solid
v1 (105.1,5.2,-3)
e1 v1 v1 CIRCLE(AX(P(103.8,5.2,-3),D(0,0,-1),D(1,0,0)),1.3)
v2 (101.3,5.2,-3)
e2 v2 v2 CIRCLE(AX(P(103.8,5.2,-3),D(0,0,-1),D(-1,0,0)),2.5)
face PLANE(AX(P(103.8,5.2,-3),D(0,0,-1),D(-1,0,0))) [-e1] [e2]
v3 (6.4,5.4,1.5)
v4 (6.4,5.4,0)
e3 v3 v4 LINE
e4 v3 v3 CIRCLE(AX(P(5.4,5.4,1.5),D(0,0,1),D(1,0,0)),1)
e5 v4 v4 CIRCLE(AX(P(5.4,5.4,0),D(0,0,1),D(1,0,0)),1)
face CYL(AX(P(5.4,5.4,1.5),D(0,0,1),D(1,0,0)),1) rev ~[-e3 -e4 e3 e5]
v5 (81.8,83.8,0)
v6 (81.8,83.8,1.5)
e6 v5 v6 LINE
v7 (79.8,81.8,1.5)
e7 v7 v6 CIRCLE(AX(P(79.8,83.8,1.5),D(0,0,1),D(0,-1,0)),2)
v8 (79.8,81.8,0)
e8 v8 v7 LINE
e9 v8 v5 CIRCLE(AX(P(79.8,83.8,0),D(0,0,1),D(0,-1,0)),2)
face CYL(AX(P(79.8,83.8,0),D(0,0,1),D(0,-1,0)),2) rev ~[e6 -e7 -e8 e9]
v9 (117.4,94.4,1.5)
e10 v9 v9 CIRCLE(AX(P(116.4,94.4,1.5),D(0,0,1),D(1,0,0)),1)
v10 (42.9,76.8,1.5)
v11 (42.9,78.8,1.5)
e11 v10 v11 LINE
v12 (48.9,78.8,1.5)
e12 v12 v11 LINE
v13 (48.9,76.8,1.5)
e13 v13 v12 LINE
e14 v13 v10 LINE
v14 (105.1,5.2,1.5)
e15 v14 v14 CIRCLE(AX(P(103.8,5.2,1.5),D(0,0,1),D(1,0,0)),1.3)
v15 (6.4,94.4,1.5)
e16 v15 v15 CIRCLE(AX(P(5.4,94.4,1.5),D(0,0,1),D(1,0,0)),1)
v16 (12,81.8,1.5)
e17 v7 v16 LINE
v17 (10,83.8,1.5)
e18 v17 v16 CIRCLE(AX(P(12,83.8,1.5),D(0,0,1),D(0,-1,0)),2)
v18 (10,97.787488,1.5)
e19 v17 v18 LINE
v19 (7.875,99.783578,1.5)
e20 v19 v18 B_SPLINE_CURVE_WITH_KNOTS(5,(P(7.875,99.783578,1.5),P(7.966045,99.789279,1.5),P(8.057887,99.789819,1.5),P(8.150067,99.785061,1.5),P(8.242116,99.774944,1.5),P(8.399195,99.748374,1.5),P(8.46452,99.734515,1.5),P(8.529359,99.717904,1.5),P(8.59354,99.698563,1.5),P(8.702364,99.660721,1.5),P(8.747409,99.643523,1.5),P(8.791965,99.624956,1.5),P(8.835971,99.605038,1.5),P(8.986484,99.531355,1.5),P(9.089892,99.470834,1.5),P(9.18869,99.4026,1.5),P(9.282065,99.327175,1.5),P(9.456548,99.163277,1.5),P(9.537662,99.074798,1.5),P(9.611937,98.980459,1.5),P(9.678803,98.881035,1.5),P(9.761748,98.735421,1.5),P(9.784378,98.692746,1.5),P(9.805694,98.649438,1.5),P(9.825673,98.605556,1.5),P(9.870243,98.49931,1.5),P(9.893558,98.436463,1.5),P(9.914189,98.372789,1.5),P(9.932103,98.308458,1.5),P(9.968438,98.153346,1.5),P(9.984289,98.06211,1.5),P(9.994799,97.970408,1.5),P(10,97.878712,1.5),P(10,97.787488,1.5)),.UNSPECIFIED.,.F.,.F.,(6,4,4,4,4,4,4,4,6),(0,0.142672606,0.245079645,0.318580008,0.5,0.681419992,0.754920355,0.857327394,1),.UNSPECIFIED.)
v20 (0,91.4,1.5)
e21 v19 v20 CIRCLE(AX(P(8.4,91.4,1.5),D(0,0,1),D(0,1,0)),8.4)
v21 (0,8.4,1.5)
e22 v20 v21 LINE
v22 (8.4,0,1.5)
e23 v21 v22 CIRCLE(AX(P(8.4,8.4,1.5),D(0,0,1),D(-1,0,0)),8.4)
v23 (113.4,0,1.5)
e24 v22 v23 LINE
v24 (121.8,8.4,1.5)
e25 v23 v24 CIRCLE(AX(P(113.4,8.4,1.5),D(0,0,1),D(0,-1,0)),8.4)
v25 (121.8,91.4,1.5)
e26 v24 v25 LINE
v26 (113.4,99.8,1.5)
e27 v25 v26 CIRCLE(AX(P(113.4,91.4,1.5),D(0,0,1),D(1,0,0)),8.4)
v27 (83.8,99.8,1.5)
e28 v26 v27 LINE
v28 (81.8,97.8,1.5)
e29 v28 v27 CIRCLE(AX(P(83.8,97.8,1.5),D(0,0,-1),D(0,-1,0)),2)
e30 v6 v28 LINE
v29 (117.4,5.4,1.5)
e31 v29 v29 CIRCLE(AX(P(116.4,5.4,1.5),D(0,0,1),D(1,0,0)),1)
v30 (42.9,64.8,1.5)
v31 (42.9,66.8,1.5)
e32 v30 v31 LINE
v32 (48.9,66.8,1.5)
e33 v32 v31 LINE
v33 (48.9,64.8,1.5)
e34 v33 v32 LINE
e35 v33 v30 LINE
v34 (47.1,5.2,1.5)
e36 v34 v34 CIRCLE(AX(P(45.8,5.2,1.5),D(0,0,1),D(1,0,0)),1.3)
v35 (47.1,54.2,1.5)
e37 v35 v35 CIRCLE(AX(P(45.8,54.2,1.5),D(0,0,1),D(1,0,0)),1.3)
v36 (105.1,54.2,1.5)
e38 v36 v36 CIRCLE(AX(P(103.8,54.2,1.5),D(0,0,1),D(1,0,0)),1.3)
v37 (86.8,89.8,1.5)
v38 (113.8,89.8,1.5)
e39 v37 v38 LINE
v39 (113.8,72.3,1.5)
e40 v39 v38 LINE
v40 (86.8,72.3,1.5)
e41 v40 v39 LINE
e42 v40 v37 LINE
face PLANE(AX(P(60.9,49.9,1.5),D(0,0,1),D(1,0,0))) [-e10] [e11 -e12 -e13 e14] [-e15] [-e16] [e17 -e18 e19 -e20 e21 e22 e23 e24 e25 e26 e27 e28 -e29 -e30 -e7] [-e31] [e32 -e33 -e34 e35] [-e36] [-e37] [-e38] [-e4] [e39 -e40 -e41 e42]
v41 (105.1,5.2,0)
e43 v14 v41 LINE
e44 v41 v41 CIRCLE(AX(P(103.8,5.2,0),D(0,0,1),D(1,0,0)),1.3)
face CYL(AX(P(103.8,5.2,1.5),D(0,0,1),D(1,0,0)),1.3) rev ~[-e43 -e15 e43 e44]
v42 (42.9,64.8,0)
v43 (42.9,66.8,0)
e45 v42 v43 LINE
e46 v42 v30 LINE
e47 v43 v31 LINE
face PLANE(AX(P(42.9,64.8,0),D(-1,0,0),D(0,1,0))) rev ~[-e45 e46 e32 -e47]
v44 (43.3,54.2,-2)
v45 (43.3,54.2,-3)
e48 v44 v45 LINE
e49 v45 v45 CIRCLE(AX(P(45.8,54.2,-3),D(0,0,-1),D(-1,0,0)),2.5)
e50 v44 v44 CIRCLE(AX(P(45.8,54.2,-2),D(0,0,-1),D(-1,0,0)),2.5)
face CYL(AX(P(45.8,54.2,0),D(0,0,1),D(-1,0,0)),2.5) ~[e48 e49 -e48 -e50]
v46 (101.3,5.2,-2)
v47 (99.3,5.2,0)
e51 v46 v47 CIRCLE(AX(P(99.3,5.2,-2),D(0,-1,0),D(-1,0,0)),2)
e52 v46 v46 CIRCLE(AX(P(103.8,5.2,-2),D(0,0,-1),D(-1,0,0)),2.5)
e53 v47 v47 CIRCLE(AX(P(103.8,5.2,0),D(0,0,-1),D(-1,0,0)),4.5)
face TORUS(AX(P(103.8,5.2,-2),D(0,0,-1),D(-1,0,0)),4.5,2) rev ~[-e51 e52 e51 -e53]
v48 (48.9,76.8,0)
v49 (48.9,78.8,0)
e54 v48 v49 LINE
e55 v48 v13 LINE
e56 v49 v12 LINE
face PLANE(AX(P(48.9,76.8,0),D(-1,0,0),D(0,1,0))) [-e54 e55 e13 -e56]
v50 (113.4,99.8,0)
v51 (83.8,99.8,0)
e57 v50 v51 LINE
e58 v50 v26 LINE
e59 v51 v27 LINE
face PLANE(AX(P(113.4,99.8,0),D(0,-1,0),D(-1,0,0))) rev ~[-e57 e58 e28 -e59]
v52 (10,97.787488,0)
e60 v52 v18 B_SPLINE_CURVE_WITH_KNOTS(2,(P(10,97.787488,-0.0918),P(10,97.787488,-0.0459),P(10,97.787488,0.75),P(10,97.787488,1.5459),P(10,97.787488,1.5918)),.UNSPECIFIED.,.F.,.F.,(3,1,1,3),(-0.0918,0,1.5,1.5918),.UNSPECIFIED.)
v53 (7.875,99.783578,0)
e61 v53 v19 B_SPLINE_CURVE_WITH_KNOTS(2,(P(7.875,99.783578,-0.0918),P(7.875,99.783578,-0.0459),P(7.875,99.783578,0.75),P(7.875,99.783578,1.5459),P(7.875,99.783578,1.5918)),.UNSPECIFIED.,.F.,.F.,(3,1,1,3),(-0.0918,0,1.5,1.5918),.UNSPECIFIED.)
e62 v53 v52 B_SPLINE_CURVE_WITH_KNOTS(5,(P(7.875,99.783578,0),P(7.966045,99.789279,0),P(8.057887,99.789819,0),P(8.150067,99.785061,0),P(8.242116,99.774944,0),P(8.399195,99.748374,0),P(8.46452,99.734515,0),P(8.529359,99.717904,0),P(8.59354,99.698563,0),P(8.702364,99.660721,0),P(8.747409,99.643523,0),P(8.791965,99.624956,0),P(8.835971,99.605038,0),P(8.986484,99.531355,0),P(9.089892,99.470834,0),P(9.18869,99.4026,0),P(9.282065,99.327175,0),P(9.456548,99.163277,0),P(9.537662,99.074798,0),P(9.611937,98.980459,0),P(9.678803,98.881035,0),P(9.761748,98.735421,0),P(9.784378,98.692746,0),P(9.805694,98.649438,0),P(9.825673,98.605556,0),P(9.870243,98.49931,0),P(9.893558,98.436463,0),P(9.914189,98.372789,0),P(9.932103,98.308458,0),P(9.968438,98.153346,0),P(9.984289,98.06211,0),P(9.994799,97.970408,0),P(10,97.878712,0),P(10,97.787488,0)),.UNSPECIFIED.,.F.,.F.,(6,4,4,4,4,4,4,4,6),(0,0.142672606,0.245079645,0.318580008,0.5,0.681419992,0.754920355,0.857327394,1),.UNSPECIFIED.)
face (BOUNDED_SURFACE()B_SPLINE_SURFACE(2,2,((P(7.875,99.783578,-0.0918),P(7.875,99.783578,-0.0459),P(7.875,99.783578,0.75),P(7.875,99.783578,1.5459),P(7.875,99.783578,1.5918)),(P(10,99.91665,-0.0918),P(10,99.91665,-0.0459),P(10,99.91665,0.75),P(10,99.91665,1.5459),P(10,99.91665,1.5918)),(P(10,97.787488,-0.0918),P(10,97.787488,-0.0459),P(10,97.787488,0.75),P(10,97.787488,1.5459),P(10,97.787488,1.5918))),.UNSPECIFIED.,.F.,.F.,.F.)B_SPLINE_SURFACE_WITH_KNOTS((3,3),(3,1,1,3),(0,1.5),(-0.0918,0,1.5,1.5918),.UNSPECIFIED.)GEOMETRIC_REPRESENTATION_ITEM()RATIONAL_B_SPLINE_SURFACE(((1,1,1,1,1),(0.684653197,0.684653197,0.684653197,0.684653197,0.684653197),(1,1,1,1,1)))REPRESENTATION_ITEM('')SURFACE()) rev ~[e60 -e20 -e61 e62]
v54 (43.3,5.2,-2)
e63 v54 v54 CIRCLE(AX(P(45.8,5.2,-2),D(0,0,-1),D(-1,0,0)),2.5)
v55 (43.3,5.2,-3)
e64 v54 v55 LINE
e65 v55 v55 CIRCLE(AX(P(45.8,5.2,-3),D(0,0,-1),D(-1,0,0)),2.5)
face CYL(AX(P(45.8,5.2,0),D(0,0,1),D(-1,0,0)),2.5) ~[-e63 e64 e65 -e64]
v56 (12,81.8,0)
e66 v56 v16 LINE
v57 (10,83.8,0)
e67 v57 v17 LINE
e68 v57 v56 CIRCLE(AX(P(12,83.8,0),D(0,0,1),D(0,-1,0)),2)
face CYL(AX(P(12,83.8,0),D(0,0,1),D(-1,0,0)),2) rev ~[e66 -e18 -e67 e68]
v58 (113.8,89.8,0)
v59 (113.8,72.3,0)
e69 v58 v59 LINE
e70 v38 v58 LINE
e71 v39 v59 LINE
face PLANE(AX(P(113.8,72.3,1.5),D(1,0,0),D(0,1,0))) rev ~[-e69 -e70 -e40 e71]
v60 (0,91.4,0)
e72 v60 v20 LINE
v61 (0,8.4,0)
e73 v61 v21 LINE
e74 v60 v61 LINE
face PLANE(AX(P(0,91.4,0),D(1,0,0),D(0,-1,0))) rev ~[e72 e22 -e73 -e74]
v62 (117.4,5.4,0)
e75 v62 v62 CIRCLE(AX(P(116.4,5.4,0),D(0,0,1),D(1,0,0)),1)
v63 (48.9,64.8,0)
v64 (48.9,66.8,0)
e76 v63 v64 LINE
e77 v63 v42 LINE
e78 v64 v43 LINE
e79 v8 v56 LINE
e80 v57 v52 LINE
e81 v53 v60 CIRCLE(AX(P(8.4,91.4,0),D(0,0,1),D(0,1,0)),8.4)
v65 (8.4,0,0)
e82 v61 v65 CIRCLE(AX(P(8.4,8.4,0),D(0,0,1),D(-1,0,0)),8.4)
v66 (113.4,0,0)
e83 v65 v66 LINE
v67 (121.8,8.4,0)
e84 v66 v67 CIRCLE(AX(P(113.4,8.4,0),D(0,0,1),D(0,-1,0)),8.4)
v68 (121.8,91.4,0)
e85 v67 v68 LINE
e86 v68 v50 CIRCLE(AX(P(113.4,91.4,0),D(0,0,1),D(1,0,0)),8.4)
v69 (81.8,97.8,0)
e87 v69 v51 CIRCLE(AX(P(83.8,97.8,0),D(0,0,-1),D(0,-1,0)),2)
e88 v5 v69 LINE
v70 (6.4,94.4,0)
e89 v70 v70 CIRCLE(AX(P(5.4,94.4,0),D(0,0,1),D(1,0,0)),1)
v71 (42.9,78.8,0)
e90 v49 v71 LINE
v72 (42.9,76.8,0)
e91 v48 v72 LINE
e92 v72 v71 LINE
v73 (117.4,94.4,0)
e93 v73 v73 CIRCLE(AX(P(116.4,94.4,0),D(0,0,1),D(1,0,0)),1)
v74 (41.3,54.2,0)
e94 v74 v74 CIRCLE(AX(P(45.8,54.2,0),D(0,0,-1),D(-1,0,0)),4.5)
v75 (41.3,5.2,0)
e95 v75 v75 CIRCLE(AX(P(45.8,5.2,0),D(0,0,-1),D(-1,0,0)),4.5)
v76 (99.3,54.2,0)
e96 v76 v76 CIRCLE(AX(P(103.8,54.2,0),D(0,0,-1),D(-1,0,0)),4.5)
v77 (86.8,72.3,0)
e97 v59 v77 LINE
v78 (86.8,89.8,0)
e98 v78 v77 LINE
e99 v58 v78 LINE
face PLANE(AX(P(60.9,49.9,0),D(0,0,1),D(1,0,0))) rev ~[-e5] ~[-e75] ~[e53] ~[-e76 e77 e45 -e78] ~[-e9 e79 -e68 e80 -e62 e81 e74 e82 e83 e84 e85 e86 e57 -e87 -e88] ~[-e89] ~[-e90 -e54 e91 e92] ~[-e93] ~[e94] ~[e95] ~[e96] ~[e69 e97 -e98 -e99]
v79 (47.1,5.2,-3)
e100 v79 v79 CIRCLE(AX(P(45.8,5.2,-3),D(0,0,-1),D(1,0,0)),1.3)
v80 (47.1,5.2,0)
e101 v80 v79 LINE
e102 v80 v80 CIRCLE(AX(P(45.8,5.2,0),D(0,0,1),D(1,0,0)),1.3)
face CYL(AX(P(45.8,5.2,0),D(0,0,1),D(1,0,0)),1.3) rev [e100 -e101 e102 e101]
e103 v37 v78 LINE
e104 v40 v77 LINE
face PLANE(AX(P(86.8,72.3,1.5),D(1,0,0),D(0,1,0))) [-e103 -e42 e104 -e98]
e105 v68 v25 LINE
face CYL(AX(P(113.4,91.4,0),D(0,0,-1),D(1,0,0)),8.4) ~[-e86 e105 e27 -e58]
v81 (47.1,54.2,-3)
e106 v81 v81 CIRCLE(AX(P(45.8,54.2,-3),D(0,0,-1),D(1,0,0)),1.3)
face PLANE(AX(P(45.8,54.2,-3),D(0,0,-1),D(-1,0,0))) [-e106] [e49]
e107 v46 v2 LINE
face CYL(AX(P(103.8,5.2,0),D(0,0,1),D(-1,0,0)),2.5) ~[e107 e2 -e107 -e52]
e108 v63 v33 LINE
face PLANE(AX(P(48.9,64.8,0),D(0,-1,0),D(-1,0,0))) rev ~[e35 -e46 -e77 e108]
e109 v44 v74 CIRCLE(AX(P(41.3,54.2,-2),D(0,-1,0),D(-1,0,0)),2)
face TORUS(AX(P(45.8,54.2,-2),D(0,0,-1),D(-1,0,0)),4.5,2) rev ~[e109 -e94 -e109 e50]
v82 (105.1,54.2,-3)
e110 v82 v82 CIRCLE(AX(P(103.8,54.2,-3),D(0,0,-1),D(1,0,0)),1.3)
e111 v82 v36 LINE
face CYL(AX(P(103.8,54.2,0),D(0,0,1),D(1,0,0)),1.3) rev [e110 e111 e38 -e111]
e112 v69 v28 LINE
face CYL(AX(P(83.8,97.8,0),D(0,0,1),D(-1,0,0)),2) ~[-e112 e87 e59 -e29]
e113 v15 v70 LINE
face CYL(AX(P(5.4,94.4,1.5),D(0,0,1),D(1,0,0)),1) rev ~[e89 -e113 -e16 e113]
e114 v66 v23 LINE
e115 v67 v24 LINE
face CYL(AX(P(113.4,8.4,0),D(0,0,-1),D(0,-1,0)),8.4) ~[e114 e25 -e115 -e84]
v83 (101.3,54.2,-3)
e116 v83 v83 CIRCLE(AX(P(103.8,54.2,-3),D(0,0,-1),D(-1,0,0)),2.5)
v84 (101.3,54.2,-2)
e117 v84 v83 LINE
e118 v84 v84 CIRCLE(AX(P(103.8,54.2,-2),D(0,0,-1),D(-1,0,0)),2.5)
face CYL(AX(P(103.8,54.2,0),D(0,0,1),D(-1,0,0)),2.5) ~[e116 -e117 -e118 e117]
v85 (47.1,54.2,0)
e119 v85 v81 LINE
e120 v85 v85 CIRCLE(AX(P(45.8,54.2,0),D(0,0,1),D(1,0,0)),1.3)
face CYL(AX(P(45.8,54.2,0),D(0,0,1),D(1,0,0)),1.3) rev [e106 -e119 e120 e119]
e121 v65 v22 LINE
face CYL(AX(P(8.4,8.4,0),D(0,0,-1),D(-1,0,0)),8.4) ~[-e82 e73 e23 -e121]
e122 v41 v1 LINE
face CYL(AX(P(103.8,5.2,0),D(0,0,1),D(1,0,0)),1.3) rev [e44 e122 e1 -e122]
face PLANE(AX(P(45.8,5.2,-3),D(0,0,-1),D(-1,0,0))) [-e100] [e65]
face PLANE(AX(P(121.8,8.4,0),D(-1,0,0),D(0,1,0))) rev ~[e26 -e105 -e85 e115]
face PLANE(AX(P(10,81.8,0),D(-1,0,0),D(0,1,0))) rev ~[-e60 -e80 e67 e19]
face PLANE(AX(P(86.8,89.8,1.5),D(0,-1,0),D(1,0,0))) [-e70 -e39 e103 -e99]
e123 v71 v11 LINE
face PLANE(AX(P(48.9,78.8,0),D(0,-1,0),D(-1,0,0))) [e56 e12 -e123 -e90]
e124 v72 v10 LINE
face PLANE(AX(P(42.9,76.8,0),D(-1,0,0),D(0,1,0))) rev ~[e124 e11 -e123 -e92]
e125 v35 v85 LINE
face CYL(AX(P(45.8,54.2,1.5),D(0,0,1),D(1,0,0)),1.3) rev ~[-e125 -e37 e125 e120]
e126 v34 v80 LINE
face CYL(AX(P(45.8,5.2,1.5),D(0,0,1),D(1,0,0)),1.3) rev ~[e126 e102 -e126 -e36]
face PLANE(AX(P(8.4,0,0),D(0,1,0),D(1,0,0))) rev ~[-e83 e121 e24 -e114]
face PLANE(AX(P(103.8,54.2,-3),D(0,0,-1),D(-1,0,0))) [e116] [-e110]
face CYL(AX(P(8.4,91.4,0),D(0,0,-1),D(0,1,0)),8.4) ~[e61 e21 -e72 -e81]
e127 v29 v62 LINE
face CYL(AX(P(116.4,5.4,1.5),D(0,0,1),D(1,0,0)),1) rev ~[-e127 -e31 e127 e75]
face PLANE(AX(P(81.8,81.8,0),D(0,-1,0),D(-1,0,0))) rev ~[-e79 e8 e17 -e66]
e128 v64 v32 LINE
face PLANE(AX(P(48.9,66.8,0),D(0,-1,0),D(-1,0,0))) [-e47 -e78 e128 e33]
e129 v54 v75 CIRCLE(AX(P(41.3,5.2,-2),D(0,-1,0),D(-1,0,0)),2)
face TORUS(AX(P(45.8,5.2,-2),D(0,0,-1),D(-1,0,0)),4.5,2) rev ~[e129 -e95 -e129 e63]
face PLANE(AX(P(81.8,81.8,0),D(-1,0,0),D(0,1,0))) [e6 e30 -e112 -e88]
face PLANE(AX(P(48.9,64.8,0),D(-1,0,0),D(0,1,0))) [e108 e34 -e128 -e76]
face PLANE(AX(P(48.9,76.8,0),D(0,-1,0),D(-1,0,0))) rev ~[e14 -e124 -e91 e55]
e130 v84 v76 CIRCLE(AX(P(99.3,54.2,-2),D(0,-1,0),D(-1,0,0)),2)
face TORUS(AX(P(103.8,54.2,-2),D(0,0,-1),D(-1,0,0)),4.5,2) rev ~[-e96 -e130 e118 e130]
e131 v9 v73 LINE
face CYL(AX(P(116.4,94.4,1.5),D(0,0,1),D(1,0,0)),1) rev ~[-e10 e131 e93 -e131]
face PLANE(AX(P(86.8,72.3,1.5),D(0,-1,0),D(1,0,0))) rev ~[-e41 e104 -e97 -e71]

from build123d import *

# Parameters (mm, degrees)
AUFSATZ_LINEAR_AUSTRAGEN1_DEPTH = 1.5
SCHNITT_LINEAR_AUSTRAGEN1_REACH = 159.472
SKIZZE2_R                       = 1.3
SKIZZE2_R_2                     = 1
SCHNITT_LINEAR_AUSTRAGEN2_REACH = 159.472
SKIZZE3_W                       = 27
SKIZZE3_H                       = 17.5
SKIZZE4_R                       = 2.5
SKIZZE4_R_2                     = 1.3
AUFSATZ_LINEAR_AUSTRAGEN2_DEPTH = 3
VERRUNDUNG1_R                   = 2
SCHNITT_LINEAR_AUSTRAGEN3_REACH = 159.494
SKIZZE5_W                       = 71.8
SKIZZE5_H                       = 18
VERRUNDUNG2_R                   = 2
SCHNITT_LINEAR_AUSTRAGEN4_REACH = 159.494
SKIZZE6_W                       = 6
SKIZZE6_H                       = 2


with BuildPart() as part:
    # Skizze1 → Aufsatz-Linear austragen1 (new body)
    with BuildSketch(Plane.XY):
        with BuildLine():
            Line((8.4, 0), (113.4, 0))
            ThreePointArc((113.4, 0), (119.339696962, 2.460303038), (121.8, 8.4))
            Line((121.8, 8.4), (121.8, 91.4))
            ThreePointArc((121.8, 91.4), (119.339696962, 97.339696962), (113.4, 99.8))
            Line((113.4, 99.8), (8.4, 99.8))
            ThreePointArc((8.4, 99.8), (2.460303038, 97.339696962), (0, 91.4))
            Line((0, 91.4), (0, 8.4))
            ThreePointArc((0, 8.4), (2.460303038, 2.460303038), (8.4, 0))
        make_face()
    extrude(amount=AUFSATZ_LINEAR_AUSTRAGEN1_DEPTH)

    # Skizze2 → Schnitt-Linear austragen1 (cut, up to next)
    with BuildSketch(Plane.XY.offset(1.5), mode=Mode.PRIVATE) as schnitt_linear_austragen1_sk1:
        with Locations((45.8, 54.2)):
            Circle(SKIZZE2_R)
    schnitt_linear_austragen1_tool1 = extrude(schnitt_linear_austragen1_sk1.sketch, amount=-SCHNITT_LINEAR_AUSTRAGEN1_REACH, mode=Mode.PRIVATE) & part.part
    # Skizze2 → Schnitt-Linear austragen1 (cut, up to next)
    with BuildSketch(Plane.XY.offset(1.5), mode=Mode.PRIVATE) as schnitt_linear_austragen1_sk2:
        with Locations((45.8, 5.2)):
            Circle(SKIZZE2_R)
    schnitt_linear_austragen1_tool2 = extrude(schnitt_linear_austragen1_sk2.sketch, amount=-SCHNITT_LINEAR_AUSTRAGEN1_REACH, mode=Mode.PRIVATE) & part.part
    # Skizze2 → Schnitt-Linear austragen1 (cut, up to next)
    with BuildSketch(Plane.XY.offset(1.5), mode=Mode.PRIVATE) as schnitt_linear_austragen1_sk3:
        with Locations((103.8, 54.2)):
            Circle(SKIZZE2_R)
    schnitt_linear_austragen1_tool3 = extrude(schnitt_linear_austragen1_sk3.sketch, amount=-SCHNITT_LINEAR_AUSTRAGEN1_REACH, mode=Mode.PRIVATE) & part.part
    # Skizze2 → Schnitt-Linear austragen1 (cut, up to next)
    with BuildSketch(Plane.XY.offset(1.5), mode=Mode.PRIVATE) as schnitt_linear_austragen1_sk4:
        with Locations((103.8, 5.2)):
            Circle(SKIZZE2_R)
    schnitt_linear_austragen1_tool4 = extrude(schnitt_linear_austragen1_sk4.sketch, amount=-SCHNITT_LINEAR_AUSTRAGEN1_REACH, mode=Mode.PRIVATE) & part.part
    # Skizze2 → Schnitt-Linear austragen1 (cut, up to next)
    with BuildSketch(Plane.XY.offset(1.5), mode=Mode.PRIVATE) as schnitt_linear_austragen1_sk5:
        with Locations((5.4, 94.4)):
            Circle(SKIZZE2_R_2)
    schnitt_linear_austragen1_tool5 = extrude(schnitt_linear_austragen1_sk5.sketch, amount=-SCHNITT_LINEAR_AUSTRAGEN1_REACH, mode=Mode.PRIVATE) & part.part
    # Skizze2 → Schnitt-Linear austragen1 (cut, up to next)
    with BuildSketch(Plane.XY.offset(1.5), mode=Mode.PRIVATE) as schnitt_linear_austragen1_sk6:
        with Locations((116.4, 94.4)):
            Circle(SKIZZE2_R_2)
    schnitt_linear_austragen1_tool6 = extrude(schnitt_linear_austragen1_sk6.sketch, amount=-SCHNITT_LINEAR_AUSTRAGEN1_REACH, mode=Mode.PRIVATE) & part.part
    # Skizze2 → Schnitt-Linear austragen1 (cut, up to next)
    with BuildSketch(Plane.XY.offset(1.5), mode=Mode.PRIVATE) as schnitt_linear_austragen1_sk7:
        with Locations((116.4, 5.4)):
            Circle(SKIZZE2_R_2)
    schnitt_linear_austragen1_tool7 = extrude(schnitt_linear_austragen1_sk7.sketch, amount=-SCHNITT_LINEAR_AUSTRAGEN1_REACH, mode=Mode.PRIVATE) & part.part
    # Skizze2 → Schnitt-Linear austragen1 (cut, up to next)
    with BuildSketch(Plane.XY.offset(1.5), mode=Mode.PRIVATE) as schnitt_linear_austragen1_sk8:
        with Locations((5.4, 5.4)):
            Circle(SKIZZE2_R_2)
    schnitt_linear_austragen1_tool8 = extrude(schnitt_linear_austragen1_sk8.sketch, amount=-SCHNITT_LINEAR_AUSTRAGEN1_REACH, mode=Mode.PRIVATE) & part.part
    add(schnitt_linear_austragen1_tool1.solids().sort_by_distance((45.8, 54.2, 1.5))[0], mode=Mode.SUBTRACT)
    add(schnitt_linear_austragen1_tool2.solids().sort_by_distance((45.8, 5.2, 1.5))[0], mode=Mode.SUBTRACT)
    add(schnitt_linear_austragen1_tool3.solids().sort_by_distance((103.8, 54.2, 1.5))[0], mode=Mode.SUBTRACT)
    add(schnitt_linear_austragen1_tool4.solids().sort_by_distance((103.8, 5.2, 1.5))[0], mode=Mode.SUBTRACT)
    add(schnitt_linear_austragen1_tool5.solids().sort_by_distance((5.4, 94.4, 1.5))[0], mode=Mode.SUBTRACT)
    add(schnitt_linear_austragen1_tool6.solids().sort_by_distance((116.4, 94.4, 1.5))[0], mode=Mode.SUBTRACT)
    add(schnitt_linear_austragen1_tool7.solids().sort_by_distance((116.4, 5.4, 1.5))[0], mode=Mode.SUBTRACT)
    add(schnitt_linear_austragen1_tool8.solids().sort_by_distance((5.4, 5.4, 1.5))[0], mode=Mode.SUBTRACT)

    # Skizze3 → Schnitt-Linear austragen2 (cut, up to next)
    with BuildSketch(Plane.XY.offset(1.5), mode=Mode.PRIVATE) as schnitt_linear_austragen2_sk1:
        with Locations((100.3, 81.05)):
            Rectangle(SKIZZE3_W, SKIZZE3_H)
    schnitt_linear_austragen2_tool1 = extrude(schnitt_linear_austragen2_sk1.sketch, amount=-SCHNITT_LINEAR_AUSTRAGEN2_REACH, mode=Mode.PRIVATE) & part.part
    add(schnitt_linear_austragen2_tool1.solids().sort_by_distance((100.3, 81.05, 1.5))[0], mode=Mode.SUBTRACT)

    # Skizze4 → Aufsatz-Linear austragen2 (add)
    # profile 1 of 4: a face of its own
    with BuildSketch(Plane(origin=(0, 0, 0), x_dir=(-1, 0, 0), z_dir=(0, 0, -1))):
        with Locations((-103.8, 54.2)):
            Circle(SKIZZE4_R)
        with Locations(Location((-103.8, 54.2, 0), (0, 0, 180))):
            Circle(SKIZZE4_R_2, mode=Mode.SUBTRACT)
    # profile 2 of 4: a face of its own
    with BuildSketch(Plane(origin=(0, 0, 0), x_dir=(-1, 0, 0), z_dir=(0, 0, -1))):
        with Locations((-45.8, 54.2)):
            Circle(SKIZZE4_R)
        with Locations(Location((-45.8, 54.2, 0), (0, 0, 180))):
            Circle(SKIZZE4_R_2, mode=Mode.SUBTRACT)
    # profile 3 of 4: a face of its own
    with BuildSketch(Plane(origin=(0, 0, 0), x_dir=(-1, 0, 0), z_dir=(0, 0, -1))):
        with Locations((-45.8, 5.2)):
            Circle(SKIZZE4_R)
        with Locations(Location((-45.8, 5.2, 0), (0, 0, 180))):
            Circle(SKIZZE4_R_2, mode=Mode.SUBTRACT)
    # profile 4 of 4: a face of its own
    with BuildSketch(Plane(origin=(0, 0, 0), x_dir=(-1, 0, 0), z_dir=(0, 0, -1))):
        with Locations((-103.8, 5.2)):
            Circle(SKIZZE4_R)
        with Locations(Location((-103.8, 5.2, 0), (0, 0, 180))):
            Circle(SKIZZE4_R_2, mode=Mode.SUBTRACT)
    extrude(amount=AUFSATZ_LINEAR_AUSTRAGEN2_DEPTH)

    # Verrundung1
    verrundung1_edges = [part.edges().sort_by_distance(p)[0] for p in [
        (106.3, 54.2, 0),
        (48.3, 54.2, 0),
        (48.3, 5.2, 0),
        (106.3, 5.2, 0),
    ]]
    fillet(verrundung1_edges, radius=VERRUNDUNG1_R)

    # Skizze5 → Schnitt-Linear austragen3 (cut, up to next)
    with BuildSketch(Plane(origin=(0, 0, 0), x_dir=(-1, 0, 0), z_dir=(0, 0, -1)), mode=Mode.PRIVATE) as schnitt_linear_austragen3_sk1:
        with Locations((-45.9, 90.8)):
            Rectangle(SKIZZE5_W, SKIZZE5_H)
    schnitt_linear_austragen3_tool1 = extrude(schnitt_linear_austragen3_sk1.sketch, amount=-SCHNITT_LINEAR_AUSTRAGEN3_REACH, mode=Mode.PRIVATE) & part.part
    add(schnitt_linear_austragen3_tool1.solids().sort_by_distance((45.9, 90.8, 0))[0], mode=Mode.SUBTRACT)

    # Verrundung2
    verrundung2_edges = [part.edges().sort_by_distance(p)[0] for p in [
        (10, 81.8, 0.75),
        (81.8, 81.8, 0.75),
        (10, 99.8, 0.75),
        (81.8, 99.8, 0.75),
    ]]
    fillet(verrundung2_edges, radius=VERRUNDUNG2_R)

    # Skizze6 → Schnitt-Linear austragen4 (cut, up to next)
    with BuildSketch(Plane(origin=(0, 0, 0), x_dir=(-1, 0, 0), z_dir=(0, 0, -1)), mode=Mode.PRIVATE) as schnitt_linear_austragen4_sk1:
        with Locations((-45.9, 77.8)):
            Rectangle(SKIZZE6_W, SKIZZE6_H)
    schnitt_linear_austragen4_tool1 = extrude(schnitt_linear_austragen4_sk1.sketch, amount=-SCHNITT_LINEAR_AUSTRAGEN4_REACH, mode=Mode.PRIVATE) & part.part
    # Skizze6 → Schnitt-Linear austragen4 (cut, up to next)
    with BuildSketch(Plane(origin=(0, 0, 0), x_dir=(-1, 0, 0), z_dir=(0, 0, -1)), mode=Mode.PRIVATE) as schnitt_linear_austragen4_sk2:
        with Locations((-45.9, 65.8)):
            Rectangle(SKIZZE6_W, SKIZZE6_H)
    schnitt_linear_austragen4_tool2 = extrude(schnitt_linear_austragen4_sk2.sketch, amount=-SCHNITT_LINEAR_AUSTRAGEN4_REACH, mode=Mode.PRIVATE) & part.part
    add(schnitt_linear_austragen4_tool1.solids().sort_by_distance((45.9, 77.8, 0))[0], mode=Mode.SUBTRACT)
    add(schnitt_linear_austragen4_tool2.solids().sort_by_distance((45.9, 65.8, 0))[0], mode=Mode.SUBTRACT)


solid = part.part
